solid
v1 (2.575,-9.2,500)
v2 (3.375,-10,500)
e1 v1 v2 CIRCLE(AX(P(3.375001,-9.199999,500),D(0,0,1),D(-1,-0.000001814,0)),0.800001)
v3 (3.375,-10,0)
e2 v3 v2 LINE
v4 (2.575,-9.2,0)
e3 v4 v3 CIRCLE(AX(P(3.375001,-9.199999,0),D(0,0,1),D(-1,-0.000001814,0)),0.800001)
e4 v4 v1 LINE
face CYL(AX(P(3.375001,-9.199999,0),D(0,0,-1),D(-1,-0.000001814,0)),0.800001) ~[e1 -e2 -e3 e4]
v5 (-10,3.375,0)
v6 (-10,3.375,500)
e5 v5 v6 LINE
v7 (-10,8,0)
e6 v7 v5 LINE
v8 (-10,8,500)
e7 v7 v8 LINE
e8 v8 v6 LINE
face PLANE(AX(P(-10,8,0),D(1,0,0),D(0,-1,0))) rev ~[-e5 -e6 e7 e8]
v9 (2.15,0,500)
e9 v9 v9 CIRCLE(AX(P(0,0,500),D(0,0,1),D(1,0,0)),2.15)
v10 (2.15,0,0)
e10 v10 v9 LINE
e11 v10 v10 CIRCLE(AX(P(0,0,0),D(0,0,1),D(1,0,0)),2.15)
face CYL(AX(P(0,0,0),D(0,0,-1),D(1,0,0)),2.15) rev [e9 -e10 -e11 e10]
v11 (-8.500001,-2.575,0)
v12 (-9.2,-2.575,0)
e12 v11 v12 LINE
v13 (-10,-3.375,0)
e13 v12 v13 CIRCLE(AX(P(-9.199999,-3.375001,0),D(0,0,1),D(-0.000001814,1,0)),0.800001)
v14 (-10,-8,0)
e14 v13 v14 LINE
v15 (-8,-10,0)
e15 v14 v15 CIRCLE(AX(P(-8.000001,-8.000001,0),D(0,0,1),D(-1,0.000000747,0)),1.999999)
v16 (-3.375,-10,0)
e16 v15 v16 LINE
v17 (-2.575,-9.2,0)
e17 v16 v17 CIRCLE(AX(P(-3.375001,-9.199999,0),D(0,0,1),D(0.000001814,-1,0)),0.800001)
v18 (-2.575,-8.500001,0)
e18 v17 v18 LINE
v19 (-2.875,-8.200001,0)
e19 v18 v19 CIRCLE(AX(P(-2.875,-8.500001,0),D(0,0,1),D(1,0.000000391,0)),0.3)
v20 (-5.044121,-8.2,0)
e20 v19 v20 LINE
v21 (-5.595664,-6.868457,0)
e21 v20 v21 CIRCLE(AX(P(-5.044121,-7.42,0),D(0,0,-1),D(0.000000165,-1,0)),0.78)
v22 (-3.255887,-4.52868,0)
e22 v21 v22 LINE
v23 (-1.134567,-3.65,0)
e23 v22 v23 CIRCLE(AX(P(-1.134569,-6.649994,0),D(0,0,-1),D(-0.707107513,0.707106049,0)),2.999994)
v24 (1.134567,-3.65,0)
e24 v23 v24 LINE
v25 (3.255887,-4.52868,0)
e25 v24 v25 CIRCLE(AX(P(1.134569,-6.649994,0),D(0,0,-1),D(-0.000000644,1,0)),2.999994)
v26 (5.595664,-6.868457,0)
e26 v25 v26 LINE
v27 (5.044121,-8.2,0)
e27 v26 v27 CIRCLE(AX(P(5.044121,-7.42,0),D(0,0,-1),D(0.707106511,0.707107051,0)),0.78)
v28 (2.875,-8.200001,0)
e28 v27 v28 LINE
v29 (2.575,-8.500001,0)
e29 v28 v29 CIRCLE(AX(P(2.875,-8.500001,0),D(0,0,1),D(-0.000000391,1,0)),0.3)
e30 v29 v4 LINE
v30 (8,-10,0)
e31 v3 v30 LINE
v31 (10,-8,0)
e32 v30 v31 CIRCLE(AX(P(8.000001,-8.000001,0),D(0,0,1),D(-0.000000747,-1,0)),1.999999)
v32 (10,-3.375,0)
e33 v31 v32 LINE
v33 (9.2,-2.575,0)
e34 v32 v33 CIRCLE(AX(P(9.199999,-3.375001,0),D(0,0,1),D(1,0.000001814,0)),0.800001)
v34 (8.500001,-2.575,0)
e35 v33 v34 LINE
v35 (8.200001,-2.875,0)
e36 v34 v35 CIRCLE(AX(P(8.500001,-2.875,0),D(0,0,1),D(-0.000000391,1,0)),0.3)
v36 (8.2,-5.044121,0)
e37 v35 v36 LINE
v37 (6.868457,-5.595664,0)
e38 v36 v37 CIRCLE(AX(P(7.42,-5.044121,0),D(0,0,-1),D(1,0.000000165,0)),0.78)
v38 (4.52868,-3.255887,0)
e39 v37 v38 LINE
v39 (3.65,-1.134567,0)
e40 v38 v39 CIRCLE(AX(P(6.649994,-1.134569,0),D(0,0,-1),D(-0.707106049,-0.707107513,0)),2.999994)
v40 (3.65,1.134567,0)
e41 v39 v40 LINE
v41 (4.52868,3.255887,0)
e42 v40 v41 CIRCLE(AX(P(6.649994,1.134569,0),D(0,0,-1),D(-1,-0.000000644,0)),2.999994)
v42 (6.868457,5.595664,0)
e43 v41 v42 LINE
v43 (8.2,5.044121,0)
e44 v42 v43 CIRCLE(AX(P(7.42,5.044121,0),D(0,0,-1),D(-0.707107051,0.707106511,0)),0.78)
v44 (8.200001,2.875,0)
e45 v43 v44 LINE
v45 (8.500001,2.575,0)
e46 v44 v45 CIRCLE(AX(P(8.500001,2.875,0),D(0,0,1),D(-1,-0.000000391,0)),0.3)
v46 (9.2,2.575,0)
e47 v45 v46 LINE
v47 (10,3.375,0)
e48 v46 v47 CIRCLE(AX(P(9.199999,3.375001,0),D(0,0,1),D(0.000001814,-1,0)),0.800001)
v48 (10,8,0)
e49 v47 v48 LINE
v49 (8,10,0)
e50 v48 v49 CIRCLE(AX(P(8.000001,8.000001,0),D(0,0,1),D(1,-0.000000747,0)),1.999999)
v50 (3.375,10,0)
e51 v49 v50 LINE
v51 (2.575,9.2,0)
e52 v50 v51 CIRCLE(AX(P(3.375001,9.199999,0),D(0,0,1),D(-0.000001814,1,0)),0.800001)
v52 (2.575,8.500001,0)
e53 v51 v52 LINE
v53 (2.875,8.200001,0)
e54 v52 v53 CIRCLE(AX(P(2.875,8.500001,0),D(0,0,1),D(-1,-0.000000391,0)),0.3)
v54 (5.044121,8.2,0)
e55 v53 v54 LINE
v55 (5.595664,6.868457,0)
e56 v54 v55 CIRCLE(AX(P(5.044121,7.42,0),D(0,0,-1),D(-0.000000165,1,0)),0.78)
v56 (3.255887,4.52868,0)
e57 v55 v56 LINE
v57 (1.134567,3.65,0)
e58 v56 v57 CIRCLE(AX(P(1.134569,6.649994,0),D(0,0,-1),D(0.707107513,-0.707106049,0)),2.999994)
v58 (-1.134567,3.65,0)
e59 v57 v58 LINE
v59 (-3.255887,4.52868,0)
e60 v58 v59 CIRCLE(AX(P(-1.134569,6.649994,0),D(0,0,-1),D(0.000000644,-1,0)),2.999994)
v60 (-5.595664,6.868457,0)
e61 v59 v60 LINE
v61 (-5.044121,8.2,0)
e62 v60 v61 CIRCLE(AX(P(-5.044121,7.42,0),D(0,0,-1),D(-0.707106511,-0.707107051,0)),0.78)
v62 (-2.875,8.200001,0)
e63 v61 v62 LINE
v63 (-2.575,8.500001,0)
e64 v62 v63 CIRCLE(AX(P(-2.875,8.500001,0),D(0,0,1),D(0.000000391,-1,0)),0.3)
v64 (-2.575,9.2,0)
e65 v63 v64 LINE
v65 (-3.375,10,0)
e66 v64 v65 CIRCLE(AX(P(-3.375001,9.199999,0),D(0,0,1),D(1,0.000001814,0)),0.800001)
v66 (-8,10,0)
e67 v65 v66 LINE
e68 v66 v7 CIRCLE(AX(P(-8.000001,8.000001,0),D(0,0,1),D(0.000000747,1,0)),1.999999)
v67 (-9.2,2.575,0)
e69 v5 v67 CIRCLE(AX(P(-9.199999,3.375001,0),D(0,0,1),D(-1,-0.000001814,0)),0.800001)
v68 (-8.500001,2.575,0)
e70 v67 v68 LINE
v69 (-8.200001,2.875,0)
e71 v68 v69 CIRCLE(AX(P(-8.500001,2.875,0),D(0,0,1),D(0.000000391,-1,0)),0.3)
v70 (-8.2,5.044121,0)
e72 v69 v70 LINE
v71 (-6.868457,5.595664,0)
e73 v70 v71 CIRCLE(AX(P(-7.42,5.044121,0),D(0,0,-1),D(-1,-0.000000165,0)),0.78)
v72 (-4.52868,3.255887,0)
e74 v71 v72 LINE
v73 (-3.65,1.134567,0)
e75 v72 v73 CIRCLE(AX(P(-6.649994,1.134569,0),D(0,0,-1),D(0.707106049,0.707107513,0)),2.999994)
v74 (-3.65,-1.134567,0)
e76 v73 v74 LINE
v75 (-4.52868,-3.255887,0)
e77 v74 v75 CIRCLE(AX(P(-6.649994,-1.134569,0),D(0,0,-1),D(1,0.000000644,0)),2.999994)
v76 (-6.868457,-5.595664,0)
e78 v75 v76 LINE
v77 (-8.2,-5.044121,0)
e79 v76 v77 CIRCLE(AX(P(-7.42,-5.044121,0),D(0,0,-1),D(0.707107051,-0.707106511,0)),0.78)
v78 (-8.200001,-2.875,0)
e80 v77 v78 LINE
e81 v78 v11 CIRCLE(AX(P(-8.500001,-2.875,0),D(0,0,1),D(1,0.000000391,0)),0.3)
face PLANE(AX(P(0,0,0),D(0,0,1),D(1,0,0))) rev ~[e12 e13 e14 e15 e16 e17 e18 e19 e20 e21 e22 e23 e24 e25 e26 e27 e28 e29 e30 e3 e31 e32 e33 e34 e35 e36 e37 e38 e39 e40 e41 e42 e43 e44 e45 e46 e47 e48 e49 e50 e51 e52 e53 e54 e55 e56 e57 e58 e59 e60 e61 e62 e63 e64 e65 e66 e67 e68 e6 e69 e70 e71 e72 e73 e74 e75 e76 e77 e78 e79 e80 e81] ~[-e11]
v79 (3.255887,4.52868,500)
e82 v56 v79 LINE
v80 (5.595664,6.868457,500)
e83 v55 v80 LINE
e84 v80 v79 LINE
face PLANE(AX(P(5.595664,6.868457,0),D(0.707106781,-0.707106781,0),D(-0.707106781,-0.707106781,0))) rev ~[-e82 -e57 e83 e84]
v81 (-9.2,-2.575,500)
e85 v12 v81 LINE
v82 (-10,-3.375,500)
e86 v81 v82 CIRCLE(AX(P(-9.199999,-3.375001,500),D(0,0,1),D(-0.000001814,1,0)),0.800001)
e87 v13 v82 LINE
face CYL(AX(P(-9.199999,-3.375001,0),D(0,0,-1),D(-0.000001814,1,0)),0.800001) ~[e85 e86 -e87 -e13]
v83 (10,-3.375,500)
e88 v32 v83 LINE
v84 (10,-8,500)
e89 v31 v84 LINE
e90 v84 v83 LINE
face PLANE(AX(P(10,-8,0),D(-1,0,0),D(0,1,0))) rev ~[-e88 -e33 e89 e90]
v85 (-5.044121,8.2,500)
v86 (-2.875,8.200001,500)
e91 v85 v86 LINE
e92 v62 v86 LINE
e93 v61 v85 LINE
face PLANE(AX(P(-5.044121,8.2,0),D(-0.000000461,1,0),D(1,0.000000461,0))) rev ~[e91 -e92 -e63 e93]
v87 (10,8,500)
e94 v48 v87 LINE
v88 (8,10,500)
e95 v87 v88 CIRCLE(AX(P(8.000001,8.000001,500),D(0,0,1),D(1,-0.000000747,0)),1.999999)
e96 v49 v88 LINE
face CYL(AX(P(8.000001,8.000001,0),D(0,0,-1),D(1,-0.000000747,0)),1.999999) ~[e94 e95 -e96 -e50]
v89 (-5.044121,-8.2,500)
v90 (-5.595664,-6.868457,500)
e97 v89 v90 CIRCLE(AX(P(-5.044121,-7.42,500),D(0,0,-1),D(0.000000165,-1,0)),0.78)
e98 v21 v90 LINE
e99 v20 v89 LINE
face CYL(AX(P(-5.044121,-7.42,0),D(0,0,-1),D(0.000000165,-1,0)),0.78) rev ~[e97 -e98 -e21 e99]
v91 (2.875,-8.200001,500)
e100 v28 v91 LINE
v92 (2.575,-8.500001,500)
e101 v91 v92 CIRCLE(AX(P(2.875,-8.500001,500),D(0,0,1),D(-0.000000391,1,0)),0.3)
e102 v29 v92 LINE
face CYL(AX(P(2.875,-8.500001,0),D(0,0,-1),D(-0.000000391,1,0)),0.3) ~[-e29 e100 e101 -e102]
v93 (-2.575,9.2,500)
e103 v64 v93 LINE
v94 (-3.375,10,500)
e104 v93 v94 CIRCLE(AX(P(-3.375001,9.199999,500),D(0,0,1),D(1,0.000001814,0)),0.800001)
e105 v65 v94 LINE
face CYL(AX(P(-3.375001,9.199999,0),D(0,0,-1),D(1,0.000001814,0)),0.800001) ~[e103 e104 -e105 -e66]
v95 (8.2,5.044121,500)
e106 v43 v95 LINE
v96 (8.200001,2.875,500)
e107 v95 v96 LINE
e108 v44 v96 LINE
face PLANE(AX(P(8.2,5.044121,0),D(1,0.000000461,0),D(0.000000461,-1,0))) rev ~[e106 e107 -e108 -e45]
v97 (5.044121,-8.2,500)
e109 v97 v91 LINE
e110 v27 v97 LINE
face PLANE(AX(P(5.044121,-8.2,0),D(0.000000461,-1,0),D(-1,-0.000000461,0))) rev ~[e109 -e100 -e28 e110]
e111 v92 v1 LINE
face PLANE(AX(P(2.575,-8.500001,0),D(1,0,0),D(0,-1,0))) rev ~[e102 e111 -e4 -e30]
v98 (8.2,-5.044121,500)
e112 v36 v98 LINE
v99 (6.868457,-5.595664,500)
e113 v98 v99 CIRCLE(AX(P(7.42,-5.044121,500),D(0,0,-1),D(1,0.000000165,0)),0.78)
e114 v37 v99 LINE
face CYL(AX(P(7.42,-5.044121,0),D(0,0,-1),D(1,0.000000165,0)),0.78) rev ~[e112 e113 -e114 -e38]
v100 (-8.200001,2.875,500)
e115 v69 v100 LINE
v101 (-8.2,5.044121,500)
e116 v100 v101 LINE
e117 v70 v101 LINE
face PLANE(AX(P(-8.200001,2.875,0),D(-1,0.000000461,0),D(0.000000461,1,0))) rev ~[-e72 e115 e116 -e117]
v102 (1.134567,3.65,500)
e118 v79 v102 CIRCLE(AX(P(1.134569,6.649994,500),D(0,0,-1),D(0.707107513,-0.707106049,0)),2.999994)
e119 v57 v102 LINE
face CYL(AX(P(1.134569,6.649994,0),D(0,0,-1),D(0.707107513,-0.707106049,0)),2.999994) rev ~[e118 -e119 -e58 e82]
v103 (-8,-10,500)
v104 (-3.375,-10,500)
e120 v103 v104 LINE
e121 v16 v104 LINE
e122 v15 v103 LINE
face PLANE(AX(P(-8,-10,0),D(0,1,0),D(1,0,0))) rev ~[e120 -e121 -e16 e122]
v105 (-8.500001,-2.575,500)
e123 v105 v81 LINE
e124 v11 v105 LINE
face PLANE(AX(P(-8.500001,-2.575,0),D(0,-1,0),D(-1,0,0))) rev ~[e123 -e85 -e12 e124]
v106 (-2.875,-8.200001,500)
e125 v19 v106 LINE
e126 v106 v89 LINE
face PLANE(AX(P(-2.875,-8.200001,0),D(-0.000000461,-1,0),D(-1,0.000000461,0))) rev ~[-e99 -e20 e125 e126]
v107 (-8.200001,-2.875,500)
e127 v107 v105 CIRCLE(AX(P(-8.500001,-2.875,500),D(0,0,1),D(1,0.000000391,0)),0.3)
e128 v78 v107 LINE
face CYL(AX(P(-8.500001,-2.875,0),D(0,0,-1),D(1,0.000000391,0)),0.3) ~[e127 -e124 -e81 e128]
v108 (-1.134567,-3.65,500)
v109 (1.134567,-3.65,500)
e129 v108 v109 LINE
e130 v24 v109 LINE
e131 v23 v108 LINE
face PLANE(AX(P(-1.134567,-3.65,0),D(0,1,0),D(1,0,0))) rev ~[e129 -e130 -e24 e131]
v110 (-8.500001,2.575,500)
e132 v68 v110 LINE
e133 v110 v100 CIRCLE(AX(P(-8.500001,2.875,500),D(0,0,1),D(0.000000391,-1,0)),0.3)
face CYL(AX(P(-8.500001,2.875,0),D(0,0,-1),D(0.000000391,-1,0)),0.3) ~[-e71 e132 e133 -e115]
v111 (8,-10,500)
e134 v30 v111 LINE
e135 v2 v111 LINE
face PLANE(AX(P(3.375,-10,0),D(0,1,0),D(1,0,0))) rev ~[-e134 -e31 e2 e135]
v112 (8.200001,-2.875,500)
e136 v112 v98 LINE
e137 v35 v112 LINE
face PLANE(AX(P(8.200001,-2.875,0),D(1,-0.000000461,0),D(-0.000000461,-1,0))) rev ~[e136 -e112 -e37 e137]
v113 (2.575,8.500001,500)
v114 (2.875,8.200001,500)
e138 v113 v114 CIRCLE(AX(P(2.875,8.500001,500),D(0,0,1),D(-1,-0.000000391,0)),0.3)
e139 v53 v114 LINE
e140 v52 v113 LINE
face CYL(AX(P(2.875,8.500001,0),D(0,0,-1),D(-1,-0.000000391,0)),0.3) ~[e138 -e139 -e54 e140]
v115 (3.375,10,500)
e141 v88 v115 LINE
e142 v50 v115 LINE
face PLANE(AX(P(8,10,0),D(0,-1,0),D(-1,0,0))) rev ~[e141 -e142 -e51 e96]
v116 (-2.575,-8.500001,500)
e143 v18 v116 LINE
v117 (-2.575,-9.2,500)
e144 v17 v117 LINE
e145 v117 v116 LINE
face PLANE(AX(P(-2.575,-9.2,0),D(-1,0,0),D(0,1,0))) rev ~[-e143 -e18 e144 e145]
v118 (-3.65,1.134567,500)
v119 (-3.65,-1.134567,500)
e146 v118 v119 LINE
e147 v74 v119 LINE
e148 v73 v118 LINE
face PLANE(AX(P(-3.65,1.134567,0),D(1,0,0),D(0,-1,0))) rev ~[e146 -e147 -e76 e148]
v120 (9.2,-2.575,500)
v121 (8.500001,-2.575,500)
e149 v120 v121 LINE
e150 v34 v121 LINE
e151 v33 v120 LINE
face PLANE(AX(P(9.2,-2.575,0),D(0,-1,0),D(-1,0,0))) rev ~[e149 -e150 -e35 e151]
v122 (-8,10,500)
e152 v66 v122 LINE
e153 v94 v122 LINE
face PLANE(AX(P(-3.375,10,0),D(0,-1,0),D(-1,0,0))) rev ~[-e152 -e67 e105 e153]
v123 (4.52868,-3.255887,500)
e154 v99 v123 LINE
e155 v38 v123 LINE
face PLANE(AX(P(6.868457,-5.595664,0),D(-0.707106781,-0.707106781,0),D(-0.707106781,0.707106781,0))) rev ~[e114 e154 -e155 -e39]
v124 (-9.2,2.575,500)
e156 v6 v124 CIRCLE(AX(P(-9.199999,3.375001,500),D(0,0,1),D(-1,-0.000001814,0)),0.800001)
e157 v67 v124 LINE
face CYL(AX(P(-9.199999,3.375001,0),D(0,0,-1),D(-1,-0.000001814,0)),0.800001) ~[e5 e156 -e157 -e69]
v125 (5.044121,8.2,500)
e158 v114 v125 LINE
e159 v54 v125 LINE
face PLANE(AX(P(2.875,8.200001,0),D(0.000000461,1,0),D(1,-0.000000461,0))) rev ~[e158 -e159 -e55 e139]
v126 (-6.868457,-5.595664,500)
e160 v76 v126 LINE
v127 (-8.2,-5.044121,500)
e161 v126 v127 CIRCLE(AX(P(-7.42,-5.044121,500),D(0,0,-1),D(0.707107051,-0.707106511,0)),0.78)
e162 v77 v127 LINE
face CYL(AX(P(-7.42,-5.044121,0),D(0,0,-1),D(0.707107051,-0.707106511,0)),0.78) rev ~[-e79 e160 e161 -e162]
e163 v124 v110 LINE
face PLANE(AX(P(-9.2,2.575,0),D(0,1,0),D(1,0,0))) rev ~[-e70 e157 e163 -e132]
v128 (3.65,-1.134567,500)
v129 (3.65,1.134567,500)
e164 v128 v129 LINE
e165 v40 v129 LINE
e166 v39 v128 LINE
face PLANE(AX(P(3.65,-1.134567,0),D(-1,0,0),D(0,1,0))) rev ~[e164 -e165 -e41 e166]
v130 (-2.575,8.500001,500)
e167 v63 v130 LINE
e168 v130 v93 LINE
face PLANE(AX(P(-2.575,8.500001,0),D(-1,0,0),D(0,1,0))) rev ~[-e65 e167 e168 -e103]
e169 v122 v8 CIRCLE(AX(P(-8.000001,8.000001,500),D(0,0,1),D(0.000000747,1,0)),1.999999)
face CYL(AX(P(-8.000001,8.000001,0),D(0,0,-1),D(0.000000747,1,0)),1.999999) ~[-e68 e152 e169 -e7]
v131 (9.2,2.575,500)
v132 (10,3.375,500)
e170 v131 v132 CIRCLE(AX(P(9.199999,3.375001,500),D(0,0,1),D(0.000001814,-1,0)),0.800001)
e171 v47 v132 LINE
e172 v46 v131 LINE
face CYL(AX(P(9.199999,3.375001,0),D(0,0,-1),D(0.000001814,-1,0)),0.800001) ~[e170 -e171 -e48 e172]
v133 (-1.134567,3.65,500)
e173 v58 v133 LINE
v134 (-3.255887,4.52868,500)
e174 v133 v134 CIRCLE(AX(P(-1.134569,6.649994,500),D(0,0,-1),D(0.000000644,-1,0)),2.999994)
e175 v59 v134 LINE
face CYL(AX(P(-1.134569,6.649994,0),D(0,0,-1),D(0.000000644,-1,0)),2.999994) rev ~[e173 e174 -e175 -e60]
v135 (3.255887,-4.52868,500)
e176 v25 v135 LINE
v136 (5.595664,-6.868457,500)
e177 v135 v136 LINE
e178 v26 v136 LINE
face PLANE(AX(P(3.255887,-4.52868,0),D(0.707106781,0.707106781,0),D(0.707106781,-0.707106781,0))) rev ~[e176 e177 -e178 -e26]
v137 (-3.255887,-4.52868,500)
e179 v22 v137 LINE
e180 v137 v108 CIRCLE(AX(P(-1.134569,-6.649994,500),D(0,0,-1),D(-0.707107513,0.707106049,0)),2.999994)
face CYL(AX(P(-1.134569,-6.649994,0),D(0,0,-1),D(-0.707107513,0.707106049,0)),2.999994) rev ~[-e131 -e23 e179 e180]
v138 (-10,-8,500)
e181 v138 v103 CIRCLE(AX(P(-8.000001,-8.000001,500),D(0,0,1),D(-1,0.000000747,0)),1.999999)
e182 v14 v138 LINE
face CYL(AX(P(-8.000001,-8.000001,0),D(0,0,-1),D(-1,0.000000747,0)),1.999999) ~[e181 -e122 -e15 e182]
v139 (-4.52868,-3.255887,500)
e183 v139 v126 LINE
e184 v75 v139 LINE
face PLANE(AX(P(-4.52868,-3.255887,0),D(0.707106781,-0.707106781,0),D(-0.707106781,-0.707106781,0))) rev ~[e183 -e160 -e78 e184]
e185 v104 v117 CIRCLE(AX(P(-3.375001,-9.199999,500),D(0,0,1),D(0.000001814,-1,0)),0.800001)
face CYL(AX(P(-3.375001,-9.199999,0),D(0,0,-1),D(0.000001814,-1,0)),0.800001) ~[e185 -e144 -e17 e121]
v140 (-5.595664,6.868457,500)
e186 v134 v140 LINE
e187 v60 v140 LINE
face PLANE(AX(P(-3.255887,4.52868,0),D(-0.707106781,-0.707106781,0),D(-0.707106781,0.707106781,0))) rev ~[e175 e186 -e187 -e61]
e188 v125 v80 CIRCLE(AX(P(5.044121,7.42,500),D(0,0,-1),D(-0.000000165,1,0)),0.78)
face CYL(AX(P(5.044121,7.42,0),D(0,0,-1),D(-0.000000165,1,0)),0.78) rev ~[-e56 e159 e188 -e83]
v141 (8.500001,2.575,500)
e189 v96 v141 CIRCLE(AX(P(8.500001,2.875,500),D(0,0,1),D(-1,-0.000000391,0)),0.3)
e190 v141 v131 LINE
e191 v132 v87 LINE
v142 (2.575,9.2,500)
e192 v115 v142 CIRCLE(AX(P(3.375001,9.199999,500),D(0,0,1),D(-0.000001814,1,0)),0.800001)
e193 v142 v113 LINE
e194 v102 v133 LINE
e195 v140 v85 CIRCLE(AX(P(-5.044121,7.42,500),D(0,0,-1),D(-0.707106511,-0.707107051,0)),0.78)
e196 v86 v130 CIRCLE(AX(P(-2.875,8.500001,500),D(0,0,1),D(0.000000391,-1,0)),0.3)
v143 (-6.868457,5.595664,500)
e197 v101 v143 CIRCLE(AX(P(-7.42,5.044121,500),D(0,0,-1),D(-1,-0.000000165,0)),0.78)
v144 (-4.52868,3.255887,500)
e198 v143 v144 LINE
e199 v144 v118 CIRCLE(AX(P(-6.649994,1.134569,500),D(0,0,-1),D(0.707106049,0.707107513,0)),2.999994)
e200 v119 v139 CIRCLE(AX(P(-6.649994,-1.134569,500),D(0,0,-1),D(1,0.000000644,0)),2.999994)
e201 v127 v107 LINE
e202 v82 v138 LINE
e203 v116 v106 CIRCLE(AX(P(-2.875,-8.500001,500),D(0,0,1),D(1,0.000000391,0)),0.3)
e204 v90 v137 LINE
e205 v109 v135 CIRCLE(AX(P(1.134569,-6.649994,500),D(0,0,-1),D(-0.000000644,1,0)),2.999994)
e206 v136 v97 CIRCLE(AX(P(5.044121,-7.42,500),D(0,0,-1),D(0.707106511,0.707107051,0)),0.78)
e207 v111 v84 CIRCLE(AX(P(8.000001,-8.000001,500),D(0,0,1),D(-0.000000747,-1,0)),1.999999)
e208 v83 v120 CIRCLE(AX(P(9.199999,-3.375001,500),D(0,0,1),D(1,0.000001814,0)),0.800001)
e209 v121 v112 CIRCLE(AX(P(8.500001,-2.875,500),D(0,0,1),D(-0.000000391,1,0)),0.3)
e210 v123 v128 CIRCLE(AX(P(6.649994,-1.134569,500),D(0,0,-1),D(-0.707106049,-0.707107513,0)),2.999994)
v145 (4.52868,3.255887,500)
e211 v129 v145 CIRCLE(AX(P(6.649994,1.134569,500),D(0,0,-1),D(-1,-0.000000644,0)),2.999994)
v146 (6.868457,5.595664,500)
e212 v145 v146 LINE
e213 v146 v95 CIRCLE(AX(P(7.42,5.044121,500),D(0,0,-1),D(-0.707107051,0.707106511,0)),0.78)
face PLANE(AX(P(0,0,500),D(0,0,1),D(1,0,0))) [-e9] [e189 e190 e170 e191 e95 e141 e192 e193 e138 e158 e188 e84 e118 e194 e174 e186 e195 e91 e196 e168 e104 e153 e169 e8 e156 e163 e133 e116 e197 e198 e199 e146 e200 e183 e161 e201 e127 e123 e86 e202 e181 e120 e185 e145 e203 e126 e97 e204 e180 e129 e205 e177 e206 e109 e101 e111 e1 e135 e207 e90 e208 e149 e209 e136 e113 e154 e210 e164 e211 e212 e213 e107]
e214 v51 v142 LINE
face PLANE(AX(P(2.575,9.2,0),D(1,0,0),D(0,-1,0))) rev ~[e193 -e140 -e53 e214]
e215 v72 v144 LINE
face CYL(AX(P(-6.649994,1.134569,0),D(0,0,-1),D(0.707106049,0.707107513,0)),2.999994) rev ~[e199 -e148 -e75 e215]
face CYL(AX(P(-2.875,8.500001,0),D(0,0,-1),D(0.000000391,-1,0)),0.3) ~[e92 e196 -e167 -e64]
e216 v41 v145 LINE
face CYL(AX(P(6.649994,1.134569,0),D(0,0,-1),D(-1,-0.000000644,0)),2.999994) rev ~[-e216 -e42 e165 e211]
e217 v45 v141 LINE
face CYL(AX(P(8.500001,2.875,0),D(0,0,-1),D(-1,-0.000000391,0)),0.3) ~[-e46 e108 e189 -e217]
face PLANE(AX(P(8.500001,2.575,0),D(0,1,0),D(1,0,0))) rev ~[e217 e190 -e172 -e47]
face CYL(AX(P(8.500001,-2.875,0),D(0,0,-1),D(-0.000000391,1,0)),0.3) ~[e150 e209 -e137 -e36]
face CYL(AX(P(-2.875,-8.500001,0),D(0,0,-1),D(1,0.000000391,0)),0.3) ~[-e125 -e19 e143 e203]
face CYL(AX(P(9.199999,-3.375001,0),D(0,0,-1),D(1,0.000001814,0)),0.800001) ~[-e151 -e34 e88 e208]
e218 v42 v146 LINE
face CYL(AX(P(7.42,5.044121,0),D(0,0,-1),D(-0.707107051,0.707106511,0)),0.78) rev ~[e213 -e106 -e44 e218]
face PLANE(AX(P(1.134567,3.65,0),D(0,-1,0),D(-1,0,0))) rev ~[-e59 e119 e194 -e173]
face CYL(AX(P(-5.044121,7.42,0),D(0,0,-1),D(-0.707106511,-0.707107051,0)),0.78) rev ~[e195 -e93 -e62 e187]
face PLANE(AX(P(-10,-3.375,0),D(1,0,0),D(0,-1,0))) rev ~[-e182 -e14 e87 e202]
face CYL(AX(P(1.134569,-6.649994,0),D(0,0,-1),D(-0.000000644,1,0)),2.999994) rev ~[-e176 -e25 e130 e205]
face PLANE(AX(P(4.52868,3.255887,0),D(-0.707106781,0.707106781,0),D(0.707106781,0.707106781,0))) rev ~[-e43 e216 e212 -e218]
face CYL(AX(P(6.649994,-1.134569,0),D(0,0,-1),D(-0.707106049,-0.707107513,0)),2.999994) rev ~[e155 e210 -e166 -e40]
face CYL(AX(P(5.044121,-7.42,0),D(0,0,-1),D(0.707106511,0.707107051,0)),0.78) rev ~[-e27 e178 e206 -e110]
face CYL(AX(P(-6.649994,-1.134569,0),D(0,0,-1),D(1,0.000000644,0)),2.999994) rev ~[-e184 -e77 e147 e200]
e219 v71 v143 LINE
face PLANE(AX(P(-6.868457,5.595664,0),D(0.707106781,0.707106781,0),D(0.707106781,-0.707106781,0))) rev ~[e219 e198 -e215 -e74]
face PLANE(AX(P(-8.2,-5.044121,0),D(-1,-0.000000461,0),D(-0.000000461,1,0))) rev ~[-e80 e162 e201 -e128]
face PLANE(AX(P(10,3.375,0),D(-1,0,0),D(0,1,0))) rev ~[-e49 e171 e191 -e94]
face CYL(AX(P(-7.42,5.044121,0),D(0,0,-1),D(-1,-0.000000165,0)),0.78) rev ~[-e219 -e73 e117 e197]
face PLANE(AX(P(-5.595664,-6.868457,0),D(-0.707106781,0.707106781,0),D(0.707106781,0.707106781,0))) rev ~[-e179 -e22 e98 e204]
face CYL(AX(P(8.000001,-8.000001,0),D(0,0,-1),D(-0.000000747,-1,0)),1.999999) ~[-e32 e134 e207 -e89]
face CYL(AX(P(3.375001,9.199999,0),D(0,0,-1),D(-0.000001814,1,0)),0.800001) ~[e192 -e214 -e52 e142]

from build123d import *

# Parameters (mm, degrees)
F1_DEPTH = 500
F2_R     = 2.15
F3_DEPTH = 500


with BuildPart() as f1:
    # F0 (on Top) → F1 (new body)
    with BuildSketch(Plane.XY):
        with BuildLine():
            ThreePointArc((4.52868, -3.255887), (3.878361, -2.282617), (3.65, -1.134567))
            Line((3.65, -1.134567), (3.65, 1.134567))
            ThreePointArc((3.65, 1.134567), (3.878361, 2.282617), (4.52868, 3.255887))
            Line((4.52868, 3.255887), (6.868457, 5.595664))
            ThreePointArc((6.868457, 5.595664), (7.718493, 5.764747), (8.2, 5.044121))
            Line((8.2, 5.044121), (8.200001, 2.875))
            ThreePointArc((8.200001, 2.875), (8.287869, 2.662868), (8.500001, 2.575))
            Line((8.500001, 2.575), (9.2, 2.575))
            ThreePointArc((9.2, 2.575), (9.765685, 2.809315), (10, 3.375))
            Line((10, 3.375), (10, 8))
            ThreePointArc((10, 8), (9.414214, 9.414214), (8, 10))
            Line((8, 10), (3.375, 10))
            ThreePointArc((3.375, 10), (2.809315, 9.765685), (2.575, 9.2))
            Line((2.575, 9.2), (2.575, 8.500001))
            ThreePointArc((2.575, 8.500001), (2.662868, 8.287869), (2.875, 8.200001))
            Line((2.875, 8.200001), (5.044121, 8.2))
            ThreePointArc((5.044121, 8.2), (5.764747, 7.718493), (5.595664, 6.868457))
            Line((5.595664, 6.868457), (3.255887, 4.52868))
            ThreePointArc((3.255887, 4.52868), (2.282617, 3.878361), (1.134567, 3.65))
            Line((1.134567, 3.65), (-1.134567, 3.65))
            ThreePointArc((-1.134567, 3.65), (-2.282617, 3.878361), (-3.255887, 4.52868))
            Line((-3.255887, 4.52868), (-5.595664, 6.868457))
            ThreePointArc((-5.595664, 6.868457), (-5.764747, 7.718493), (-5.044121, 8.2))
            Line((-5.044121, 8.2), (-2.875, 8.200001))
            ThreePointArc((-2.875, 8.200001), (-2.662868, 8.287869), (-2.575, 8.500001))
            Line((-2.575, 8.500001), (-2.575, 9.2))
            ThreePointArc((-2.575, 9.2), (-2.809315, 9.765685), (-3.375, 10))
            Line((-3.375, 10), (-8, 10))
            ThreePointArc((-8, 10), (-9.414214, 9.414214), (-10, 8))
            Line((-10, 8), (-10, 3.375))
            ThreePointArc((-10, 3.375), (-9.765685, 2.809315), (-9.2, 2.575))
            Line((-9.2, 2.575), (-8.500001, 2.575))
            ThreePointArc((-8.500001, 2.575), (-8.287869, 2.662868), (-8.200001, 2.875))
            Line((-8.200001, 2.875), (-8.2, 5.044121))
            ThreePointArc((-8.2, 5.044121), (-7.718493, 5.764747), (-6.868457, 5.595664))
            Line((-6.868457, 5.595664), (-4.52868, 3.255887))
            ThreePointArc((-4.52868, 3.255887), (-3.878361, 2.282617), (-3.65, 1.134567))
            Line((-3.65, 1.134567), (-3.65, -1.134567))
            ThreePointArc((-3.65, -1.134567), (-3.878361, -2.282617), (-4.52868, -3.255887))
            Line((-4.52868, -3.255887), (-6.868457, -5.595664))
            ThreePointArc((-6.868457, -5.595664), (-7.718493, -5.764747), (-8.2, -5.044121))
            Line((-8.2, -5.044121), (-8.200001, -2.875))
            ThreePointArc((-8.200001, -2.875), (-8.287869, -2.662868), (-8.500001, -2.575))
            Line((-8.500001, -2.575), (-9.2, -2.575))
            ThreePointArc((-9.2, -2.575), (-9.765685, -2.809315), (-10, -3.375))
            Line((-10, -3.375), (-10, -8))
            ThreePointArc((-10, -8), (-9.414214, -9.414214), (-8, -10))
            Line((-8, -10), (-3.375, -10))
            ThreePointArc((-3.375, -10), (-2.809315, -9.765685), (-2.575, -9.2))
            Line((-2.575, -9.2), (-2.575, -8.500001))
            ThreePointArc((-2.575, -8.500001), (-2.662868, -8.287869), (-2.875, -8.200001))
            Line((-2.875, -8.200001), (-5.044121, -8.2))
            ThreePointArc((-5.044121, -8.2), (-5.764747, -7.718493), (-5.595664, -6.868457))
            Line((-5.595664, -6.868457), (-3.255887, -4.52868))
            ThreePointArc((-3.255887, -4.52868), (-2.282617, -3.878361), (-1.134567, -3.65))
            Line((-1.134567, -3.65), (1.134567, -3.65))
            ThreePointArc((1.134567, -3.65), (2.282617, -3.878361), (3.255887, -4.52868))
            Line((3.255887, -4.52868), (5.595664, -6.868457))
            ThreePointArc((5.595664, -6.868457), (5.764747, -7.718493), (5.044121, -8.2))
            Line((5.044121, -8.2), (2.875, -8.200001))
            ThreePointArc((2.875, -8.200001), (2.662868, -8.287869), (2.575, -8.500001))
            Line((2.575, -8.500001), (2.575, -9.2))
            ThreePointArc((2.575, -9.2), (2.809315, -9.765685), (3.375, -10))
            Line((3.375, -10), (8, -10))
            ThreePointArc((8, -10), (9.414214, -9.414214), (10, -8))
            Line((10, -8), (10, -3.375))
            ThreePointArc((10, -3.375), (9.765685, -2.809315), (9.2, -2.575))
            Line((9.2, -2.575), (8.500001, -2.575))
            ThreePointArc((8.500001, -2.575), (8.287869, -2.662868), (8.200001, -2.875))
            Line((8.200001, -2.875), (8.2, -5.044121))
            ThreePointArc((8.2, -5.044121), (7.718493, -5.764747), (6.868457, -5.595664))
            Line((6.868457, -5.595664), (4.52868, -3.255887))
        make_face()
    extrude(amount=F1_DEPTH)

    # F2 (on Top) → F3 (cut, through all)
    with BuildSketch(Plane.XY):
        Circle(F2_R)
    extrude(amount=F3_DEPTH, mode=Mode.SUBTRACT)


solid = f1.part
